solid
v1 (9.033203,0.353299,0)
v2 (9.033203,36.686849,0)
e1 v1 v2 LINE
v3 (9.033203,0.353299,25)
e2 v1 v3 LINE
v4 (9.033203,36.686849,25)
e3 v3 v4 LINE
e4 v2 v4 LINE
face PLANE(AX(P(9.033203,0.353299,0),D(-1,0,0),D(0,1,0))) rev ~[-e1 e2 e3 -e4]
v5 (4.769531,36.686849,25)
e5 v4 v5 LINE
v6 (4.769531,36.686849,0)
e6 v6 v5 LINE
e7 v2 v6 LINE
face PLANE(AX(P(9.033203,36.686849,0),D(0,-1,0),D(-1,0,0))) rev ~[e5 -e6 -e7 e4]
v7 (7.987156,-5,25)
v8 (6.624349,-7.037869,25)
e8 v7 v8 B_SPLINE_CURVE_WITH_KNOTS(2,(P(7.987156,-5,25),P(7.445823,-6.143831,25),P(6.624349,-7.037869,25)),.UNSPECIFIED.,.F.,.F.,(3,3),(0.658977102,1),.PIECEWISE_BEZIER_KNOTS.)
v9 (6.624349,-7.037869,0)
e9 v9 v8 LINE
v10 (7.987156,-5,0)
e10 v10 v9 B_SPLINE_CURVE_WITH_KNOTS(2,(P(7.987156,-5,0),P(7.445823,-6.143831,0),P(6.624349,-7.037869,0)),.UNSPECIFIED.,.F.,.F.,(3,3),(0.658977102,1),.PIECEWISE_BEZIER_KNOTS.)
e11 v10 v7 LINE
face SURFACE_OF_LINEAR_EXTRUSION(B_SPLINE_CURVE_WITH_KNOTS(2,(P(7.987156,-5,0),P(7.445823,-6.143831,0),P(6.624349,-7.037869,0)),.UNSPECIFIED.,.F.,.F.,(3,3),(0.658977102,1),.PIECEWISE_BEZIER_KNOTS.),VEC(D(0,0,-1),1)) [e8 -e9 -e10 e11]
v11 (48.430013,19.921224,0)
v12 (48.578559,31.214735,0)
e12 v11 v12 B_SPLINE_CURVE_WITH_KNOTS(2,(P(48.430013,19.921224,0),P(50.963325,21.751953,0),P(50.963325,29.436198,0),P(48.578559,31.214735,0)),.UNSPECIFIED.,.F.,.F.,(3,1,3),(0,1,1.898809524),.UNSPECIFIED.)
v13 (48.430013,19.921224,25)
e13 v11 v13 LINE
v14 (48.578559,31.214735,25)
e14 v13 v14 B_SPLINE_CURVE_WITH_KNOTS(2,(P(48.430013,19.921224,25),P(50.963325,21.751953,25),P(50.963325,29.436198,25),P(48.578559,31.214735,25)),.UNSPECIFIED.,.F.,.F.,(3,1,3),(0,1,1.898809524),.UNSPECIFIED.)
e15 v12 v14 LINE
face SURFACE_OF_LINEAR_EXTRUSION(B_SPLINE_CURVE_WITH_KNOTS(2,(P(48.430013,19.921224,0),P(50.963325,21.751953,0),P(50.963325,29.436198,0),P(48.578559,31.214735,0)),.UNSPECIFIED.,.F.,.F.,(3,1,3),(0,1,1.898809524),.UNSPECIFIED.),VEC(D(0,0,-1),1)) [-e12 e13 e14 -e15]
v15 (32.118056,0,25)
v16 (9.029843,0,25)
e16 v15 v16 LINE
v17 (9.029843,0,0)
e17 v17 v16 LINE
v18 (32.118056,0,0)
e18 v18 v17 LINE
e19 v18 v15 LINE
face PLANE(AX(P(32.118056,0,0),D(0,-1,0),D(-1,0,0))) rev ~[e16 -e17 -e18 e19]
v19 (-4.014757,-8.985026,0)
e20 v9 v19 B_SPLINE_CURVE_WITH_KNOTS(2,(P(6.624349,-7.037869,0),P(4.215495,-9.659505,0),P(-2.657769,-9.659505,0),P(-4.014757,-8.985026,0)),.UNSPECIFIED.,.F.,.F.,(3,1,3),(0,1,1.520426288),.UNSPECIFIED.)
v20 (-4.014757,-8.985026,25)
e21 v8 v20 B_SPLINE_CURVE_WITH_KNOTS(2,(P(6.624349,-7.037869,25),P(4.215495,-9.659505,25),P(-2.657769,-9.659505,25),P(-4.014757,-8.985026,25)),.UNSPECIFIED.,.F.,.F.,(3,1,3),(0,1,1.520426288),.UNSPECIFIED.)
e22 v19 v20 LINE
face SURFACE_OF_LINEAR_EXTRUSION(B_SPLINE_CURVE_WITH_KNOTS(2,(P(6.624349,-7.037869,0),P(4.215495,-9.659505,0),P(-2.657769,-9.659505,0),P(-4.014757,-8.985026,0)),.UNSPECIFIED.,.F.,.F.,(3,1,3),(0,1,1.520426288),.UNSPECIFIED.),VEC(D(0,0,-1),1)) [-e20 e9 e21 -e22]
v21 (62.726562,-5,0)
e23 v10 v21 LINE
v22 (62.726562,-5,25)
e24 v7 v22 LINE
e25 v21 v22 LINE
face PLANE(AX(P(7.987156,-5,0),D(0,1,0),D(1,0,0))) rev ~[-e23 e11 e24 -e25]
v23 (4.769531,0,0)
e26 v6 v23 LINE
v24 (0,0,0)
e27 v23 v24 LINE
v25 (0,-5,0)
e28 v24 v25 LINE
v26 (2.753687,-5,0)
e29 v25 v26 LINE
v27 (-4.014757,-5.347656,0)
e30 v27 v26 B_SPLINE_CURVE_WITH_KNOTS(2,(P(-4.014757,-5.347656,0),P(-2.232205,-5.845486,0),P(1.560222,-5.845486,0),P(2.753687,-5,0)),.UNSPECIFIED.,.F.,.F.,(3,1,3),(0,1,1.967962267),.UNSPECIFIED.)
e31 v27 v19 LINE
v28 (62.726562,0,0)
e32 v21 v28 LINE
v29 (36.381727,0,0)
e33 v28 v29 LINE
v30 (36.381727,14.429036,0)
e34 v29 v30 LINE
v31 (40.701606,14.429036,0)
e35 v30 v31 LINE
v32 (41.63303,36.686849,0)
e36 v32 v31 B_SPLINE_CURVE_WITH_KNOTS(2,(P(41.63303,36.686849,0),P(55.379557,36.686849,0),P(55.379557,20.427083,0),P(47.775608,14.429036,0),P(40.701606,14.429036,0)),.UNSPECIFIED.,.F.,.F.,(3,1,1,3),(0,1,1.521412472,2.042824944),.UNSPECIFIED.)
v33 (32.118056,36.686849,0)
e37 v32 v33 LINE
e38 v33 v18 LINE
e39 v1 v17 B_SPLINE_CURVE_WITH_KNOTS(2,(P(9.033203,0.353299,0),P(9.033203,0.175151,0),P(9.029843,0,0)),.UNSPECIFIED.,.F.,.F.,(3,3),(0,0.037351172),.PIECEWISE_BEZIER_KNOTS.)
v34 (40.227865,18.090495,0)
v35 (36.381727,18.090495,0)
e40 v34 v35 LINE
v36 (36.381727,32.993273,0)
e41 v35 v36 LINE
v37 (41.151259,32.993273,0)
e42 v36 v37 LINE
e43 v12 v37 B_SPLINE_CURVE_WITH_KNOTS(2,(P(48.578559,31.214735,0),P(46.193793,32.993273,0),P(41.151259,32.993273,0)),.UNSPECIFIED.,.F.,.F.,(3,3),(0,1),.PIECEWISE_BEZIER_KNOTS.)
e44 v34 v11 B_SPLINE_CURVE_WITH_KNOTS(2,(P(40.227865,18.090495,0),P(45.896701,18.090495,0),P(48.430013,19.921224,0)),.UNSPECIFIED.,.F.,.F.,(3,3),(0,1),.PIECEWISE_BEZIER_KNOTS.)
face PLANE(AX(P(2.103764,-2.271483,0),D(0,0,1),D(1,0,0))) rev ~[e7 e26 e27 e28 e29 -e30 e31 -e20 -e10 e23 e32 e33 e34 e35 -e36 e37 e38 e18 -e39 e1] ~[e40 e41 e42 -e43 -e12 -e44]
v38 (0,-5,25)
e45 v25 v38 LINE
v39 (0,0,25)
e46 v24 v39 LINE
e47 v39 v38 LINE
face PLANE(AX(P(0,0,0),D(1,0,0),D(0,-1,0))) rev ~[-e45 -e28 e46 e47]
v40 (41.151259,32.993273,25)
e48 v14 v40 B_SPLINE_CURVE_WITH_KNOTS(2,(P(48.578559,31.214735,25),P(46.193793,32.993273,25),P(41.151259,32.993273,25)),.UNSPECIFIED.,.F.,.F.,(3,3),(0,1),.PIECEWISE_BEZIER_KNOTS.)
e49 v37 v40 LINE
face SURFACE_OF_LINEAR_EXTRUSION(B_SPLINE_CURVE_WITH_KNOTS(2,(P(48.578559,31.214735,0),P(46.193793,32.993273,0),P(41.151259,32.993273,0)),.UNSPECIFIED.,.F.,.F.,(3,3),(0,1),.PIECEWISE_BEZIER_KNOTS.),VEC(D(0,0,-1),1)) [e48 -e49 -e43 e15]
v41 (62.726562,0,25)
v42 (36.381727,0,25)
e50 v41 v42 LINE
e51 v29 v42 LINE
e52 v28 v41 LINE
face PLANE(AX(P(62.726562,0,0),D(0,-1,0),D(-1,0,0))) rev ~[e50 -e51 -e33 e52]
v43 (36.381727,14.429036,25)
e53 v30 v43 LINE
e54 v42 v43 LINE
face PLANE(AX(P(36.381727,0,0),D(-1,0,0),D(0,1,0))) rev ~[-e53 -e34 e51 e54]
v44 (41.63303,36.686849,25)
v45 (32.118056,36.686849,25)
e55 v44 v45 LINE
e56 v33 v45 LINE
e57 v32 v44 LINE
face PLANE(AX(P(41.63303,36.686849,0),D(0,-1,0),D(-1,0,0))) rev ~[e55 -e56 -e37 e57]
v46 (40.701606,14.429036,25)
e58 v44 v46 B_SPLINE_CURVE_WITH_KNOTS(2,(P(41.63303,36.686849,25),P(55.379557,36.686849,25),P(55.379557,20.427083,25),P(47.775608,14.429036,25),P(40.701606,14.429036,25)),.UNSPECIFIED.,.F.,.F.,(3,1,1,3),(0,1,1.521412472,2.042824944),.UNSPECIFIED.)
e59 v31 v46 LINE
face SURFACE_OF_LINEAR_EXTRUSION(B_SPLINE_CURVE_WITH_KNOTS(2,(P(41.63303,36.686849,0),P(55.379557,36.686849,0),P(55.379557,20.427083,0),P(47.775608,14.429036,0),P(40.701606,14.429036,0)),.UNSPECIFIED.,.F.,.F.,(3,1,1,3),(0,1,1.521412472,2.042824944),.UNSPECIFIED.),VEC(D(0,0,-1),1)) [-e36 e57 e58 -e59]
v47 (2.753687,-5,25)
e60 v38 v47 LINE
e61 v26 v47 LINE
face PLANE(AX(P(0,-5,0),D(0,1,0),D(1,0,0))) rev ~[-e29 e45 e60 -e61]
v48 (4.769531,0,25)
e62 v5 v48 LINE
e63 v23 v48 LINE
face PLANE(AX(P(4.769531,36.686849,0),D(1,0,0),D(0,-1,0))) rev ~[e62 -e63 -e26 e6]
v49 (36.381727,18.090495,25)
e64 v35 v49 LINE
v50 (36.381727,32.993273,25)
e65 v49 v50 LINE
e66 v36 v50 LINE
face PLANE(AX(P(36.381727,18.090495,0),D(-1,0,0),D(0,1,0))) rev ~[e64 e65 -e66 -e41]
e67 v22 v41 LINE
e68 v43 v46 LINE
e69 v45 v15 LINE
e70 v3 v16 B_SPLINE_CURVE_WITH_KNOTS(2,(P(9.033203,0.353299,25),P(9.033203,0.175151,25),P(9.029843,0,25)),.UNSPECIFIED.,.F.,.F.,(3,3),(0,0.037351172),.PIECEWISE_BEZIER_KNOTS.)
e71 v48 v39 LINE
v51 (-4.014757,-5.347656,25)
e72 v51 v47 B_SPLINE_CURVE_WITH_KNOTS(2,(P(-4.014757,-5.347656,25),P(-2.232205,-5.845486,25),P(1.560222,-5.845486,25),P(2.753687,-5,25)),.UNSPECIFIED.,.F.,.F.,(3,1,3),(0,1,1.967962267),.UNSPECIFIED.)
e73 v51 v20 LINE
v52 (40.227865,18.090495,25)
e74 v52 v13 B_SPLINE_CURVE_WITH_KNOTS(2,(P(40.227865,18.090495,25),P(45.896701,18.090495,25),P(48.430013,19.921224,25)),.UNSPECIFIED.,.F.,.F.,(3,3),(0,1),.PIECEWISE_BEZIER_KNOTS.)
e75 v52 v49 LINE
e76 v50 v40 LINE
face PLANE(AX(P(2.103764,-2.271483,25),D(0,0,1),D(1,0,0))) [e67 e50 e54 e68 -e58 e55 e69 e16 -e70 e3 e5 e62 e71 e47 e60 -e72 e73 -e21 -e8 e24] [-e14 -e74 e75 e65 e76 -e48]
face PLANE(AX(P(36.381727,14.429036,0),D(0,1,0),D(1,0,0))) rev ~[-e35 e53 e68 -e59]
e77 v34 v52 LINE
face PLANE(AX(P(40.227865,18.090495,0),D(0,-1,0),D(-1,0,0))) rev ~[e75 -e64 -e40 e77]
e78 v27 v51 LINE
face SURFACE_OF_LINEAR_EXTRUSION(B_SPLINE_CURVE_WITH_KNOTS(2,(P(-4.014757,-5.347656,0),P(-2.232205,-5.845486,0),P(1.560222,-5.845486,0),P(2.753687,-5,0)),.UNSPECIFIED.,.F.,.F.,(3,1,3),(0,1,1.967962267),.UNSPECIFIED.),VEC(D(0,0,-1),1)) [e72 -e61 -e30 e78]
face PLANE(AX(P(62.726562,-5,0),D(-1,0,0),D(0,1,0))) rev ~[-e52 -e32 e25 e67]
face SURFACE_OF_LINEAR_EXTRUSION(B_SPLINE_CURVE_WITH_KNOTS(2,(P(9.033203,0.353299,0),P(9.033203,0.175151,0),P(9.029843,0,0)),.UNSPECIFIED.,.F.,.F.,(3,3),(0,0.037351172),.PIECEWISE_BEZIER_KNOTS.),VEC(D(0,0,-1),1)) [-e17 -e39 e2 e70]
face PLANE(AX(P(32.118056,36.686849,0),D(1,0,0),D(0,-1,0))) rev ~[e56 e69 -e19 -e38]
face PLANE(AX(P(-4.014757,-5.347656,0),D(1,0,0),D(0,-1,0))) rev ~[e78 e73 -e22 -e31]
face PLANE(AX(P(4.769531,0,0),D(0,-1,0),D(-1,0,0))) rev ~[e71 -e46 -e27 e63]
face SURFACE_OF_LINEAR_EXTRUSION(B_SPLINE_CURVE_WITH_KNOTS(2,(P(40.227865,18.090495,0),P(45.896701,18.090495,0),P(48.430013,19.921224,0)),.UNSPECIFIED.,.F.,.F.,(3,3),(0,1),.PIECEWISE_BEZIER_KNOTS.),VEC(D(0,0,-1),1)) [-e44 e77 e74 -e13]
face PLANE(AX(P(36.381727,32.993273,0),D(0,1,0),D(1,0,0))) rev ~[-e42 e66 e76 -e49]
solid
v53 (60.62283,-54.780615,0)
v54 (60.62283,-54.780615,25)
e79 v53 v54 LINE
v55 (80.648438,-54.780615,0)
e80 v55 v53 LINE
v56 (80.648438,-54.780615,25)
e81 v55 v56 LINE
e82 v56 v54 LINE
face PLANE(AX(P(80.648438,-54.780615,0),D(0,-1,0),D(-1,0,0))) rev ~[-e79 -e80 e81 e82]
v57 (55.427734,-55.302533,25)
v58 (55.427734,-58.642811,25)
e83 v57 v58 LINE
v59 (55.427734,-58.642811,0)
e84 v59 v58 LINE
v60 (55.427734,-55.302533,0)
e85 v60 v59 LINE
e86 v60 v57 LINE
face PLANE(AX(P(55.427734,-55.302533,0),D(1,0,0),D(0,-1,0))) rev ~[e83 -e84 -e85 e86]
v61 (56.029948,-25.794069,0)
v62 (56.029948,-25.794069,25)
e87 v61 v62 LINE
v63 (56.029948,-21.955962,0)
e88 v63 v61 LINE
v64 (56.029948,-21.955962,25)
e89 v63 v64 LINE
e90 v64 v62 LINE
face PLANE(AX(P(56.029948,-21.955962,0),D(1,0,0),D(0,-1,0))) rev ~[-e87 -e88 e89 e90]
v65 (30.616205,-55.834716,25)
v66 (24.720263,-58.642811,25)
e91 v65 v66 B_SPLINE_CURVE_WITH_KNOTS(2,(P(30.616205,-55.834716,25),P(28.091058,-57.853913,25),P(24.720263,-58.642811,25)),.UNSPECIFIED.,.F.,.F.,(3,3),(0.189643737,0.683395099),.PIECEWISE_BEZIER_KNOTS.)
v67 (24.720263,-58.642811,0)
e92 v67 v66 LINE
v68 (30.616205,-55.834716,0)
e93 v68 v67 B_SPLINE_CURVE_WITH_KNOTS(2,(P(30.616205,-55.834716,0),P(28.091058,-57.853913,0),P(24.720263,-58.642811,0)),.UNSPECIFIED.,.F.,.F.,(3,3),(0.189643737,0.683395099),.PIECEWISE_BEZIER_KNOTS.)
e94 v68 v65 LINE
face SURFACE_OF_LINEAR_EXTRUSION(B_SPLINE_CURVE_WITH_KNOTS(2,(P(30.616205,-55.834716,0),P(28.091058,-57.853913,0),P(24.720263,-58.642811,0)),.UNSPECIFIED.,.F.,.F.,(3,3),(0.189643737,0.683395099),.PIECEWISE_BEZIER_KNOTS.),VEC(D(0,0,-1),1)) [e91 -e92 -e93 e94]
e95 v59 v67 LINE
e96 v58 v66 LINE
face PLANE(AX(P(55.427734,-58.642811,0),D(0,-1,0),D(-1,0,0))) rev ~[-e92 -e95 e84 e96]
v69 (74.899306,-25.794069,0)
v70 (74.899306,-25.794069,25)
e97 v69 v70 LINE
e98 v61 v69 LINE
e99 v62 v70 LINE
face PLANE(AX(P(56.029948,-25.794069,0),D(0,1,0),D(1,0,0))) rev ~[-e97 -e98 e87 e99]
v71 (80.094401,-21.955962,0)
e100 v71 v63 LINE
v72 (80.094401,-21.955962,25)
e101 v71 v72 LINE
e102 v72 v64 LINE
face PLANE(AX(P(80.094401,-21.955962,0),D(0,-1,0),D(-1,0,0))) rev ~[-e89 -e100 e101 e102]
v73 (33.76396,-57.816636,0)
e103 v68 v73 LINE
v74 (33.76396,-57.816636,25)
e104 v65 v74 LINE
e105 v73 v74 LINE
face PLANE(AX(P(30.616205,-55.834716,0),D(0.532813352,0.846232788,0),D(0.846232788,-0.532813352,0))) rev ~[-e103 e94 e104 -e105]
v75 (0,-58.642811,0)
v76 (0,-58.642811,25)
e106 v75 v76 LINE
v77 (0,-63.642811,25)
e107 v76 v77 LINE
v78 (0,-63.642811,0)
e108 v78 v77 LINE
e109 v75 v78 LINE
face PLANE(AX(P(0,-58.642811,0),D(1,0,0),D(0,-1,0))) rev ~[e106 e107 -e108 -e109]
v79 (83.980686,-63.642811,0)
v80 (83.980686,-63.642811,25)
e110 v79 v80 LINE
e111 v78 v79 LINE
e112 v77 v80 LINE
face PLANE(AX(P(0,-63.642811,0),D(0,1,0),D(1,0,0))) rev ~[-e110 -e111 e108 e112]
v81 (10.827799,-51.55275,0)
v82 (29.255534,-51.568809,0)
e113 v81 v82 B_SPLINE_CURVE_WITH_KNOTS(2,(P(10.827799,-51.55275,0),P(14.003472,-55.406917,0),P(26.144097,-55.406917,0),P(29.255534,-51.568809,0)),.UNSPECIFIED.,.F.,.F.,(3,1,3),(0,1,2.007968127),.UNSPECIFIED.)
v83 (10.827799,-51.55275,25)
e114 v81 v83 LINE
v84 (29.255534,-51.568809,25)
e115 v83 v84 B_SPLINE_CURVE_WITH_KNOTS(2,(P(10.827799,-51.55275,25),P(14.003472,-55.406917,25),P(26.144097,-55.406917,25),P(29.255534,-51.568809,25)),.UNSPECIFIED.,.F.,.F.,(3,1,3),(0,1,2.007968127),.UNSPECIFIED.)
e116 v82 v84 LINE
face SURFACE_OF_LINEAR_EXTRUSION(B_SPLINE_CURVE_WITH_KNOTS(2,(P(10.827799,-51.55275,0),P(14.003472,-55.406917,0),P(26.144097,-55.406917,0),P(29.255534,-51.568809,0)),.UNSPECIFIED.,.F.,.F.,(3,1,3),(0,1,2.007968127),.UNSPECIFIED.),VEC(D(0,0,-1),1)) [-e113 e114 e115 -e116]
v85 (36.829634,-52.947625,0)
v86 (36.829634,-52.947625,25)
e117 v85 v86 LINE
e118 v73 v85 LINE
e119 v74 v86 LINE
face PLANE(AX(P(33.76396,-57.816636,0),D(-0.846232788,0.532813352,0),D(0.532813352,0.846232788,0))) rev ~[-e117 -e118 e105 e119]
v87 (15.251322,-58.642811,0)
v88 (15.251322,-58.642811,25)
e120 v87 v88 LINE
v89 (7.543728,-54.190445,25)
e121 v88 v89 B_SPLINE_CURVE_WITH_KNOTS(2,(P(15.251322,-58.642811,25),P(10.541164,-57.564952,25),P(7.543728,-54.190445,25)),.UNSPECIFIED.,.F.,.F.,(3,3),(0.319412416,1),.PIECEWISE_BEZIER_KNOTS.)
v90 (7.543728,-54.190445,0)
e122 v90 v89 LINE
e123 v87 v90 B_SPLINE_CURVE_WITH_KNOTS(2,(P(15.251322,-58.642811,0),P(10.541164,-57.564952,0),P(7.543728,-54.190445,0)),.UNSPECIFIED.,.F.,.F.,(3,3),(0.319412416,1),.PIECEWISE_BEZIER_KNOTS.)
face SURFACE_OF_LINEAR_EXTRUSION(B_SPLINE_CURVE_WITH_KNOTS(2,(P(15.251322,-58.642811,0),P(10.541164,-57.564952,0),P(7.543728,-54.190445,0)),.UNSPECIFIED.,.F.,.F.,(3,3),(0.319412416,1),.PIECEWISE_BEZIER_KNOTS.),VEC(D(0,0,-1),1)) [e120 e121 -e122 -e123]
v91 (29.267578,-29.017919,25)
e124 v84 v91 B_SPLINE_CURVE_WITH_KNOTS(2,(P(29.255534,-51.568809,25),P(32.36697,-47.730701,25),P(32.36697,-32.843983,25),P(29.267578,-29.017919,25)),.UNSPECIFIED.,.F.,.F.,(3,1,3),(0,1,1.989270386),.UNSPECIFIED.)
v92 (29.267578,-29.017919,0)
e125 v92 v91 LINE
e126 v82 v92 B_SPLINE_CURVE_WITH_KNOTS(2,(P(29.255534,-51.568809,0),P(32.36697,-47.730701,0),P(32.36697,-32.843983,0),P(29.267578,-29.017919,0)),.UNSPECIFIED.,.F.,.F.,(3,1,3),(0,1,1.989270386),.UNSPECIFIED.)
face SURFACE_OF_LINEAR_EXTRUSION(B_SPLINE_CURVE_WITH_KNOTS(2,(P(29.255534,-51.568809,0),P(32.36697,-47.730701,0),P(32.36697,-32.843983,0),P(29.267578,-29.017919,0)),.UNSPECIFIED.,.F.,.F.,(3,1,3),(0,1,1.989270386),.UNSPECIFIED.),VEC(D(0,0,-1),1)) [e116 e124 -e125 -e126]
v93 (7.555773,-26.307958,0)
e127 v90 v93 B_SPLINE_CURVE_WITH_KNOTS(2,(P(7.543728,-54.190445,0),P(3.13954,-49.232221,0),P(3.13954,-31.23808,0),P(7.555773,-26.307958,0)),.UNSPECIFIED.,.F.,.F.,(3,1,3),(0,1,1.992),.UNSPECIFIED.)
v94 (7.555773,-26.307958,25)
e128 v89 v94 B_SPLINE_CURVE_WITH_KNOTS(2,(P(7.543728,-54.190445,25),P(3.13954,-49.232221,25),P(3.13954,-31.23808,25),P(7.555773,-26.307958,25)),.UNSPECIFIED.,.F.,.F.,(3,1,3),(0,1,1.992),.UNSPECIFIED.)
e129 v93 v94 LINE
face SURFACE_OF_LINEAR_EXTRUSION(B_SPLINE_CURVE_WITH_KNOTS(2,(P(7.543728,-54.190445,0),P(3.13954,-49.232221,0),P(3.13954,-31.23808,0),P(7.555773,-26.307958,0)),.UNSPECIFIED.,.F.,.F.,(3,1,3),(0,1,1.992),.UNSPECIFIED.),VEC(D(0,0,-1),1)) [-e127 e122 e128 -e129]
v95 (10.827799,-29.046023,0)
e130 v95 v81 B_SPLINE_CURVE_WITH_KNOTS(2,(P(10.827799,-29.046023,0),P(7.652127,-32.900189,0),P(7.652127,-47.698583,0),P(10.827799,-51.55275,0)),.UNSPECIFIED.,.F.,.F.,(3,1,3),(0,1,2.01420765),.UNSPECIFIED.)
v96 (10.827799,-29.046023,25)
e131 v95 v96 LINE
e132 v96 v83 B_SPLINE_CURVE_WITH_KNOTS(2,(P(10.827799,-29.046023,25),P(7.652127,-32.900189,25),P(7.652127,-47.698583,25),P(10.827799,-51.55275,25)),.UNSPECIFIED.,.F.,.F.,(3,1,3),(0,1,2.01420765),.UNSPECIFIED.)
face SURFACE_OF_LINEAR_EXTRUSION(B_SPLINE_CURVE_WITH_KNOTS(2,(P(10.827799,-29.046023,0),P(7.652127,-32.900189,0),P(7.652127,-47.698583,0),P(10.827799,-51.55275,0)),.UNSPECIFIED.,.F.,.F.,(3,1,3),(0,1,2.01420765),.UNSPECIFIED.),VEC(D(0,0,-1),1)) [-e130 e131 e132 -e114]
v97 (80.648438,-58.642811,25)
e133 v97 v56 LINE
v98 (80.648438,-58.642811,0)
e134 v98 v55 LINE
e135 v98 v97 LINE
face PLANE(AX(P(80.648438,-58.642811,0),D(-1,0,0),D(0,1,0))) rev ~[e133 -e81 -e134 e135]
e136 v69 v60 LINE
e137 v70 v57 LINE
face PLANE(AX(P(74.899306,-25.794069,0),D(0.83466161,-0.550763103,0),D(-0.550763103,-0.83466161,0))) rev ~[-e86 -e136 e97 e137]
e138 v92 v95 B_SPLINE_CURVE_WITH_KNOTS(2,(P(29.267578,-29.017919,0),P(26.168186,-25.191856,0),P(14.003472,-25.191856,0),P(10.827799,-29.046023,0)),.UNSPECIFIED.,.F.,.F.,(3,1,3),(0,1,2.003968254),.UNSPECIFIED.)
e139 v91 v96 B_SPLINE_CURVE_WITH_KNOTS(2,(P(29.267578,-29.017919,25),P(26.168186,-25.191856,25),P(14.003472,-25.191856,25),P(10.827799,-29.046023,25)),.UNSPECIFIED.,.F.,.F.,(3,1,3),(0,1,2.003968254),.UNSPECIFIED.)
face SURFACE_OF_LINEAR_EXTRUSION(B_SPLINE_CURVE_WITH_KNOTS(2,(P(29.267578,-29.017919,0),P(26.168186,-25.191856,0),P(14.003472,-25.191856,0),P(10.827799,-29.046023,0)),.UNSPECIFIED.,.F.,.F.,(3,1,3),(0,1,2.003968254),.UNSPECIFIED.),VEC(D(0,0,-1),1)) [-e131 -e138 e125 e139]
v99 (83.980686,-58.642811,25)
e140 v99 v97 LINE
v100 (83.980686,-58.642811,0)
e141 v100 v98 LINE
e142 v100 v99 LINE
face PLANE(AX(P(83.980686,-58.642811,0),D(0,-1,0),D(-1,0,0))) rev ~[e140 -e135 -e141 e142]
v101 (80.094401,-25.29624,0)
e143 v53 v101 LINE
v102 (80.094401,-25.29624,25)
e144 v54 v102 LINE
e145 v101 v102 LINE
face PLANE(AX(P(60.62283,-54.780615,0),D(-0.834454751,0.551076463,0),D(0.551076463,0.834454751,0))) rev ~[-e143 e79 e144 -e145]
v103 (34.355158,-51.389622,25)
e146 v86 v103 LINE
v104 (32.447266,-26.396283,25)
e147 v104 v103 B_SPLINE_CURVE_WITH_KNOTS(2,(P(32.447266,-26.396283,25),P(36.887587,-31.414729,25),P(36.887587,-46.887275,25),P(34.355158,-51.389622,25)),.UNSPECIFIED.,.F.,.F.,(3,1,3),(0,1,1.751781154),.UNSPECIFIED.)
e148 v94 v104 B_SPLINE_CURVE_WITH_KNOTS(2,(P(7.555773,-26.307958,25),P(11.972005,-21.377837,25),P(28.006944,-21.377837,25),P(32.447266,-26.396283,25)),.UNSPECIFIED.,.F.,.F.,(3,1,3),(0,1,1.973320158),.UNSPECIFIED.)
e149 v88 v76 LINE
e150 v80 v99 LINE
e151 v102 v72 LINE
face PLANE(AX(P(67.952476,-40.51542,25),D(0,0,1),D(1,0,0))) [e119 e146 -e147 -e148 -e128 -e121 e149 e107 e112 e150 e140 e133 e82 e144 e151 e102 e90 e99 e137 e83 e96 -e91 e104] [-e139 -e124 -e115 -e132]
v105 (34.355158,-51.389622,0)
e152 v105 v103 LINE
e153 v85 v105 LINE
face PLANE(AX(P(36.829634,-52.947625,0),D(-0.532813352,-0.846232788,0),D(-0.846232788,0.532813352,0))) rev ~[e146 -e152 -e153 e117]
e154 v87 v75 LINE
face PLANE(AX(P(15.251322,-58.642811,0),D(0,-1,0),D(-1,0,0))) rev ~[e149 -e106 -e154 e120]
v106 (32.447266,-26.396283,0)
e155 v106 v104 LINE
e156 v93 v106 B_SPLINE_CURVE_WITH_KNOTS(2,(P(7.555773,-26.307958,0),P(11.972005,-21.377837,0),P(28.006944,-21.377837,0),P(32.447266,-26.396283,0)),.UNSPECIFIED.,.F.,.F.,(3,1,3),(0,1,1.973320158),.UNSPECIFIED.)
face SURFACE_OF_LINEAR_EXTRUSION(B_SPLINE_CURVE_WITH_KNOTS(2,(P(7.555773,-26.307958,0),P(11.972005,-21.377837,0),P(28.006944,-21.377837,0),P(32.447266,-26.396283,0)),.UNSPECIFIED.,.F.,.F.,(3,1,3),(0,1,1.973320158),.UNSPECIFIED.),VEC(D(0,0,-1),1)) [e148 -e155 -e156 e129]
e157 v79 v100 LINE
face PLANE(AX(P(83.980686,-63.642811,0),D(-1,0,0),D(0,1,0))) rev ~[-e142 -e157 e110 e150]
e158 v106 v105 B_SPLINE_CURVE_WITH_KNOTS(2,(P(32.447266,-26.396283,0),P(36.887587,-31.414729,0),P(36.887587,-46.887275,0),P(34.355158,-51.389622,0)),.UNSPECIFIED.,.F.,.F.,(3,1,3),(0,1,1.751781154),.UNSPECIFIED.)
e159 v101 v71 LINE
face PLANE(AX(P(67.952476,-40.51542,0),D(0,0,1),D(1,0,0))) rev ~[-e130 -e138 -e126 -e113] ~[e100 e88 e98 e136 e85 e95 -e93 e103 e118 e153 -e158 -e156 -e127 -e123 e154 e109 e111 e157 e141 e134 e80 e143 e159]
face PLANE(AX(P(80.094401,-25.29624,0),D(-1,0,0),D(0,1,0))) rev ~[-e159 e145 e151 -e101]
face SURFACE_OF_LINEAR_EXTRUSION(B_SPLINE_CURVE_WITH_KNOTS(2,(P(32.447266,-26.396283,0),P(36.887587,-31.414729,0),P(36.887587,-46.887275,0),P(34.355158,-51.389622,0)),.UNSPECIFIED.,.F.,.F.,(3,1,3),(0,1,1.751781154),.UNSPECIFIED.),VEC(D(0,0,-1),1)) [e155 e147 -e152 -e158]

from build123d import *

# Parameters (mm, degrees)
F1_DEPTH = 25


with BuildPart() as f1:
    # F0 (on Top) → F1 (new body)
    with BuildSketch(Plane.XY):
        with BuildLine():
            Line((4.76953125, 0), (0, 0))
            Line((0, 0), (0, -5))
            Line((0, -5), (2.7536867479, -5))
            add(Edge.make_bspline(
                [(2.7536867479, -5), (3.1528031854, -4.7172538817), (3.4767795139, -4.3399522569)],
                knots=[0.7493901424, 0.7493901424, 0.7493901424, 1, 1, 1], degree=2))
            add(Edge.make_bspline(
                [(3.4767795139, -4.3399522569), (4.76953125, -2.8344184028), (4.76953125, 0)],
                knots=[0, 0, 0, 1, 1, 1], degree=2))
        make_face()
        with BuildLine():
            Line((4.76953125, 36.6868489583), (4.76953125, 0))
            Line((4.76953125, 0), (9.0298425084, 0))
            add(Edge.make_bspline(
                [(9.033203125, 0.3532986111), (9.033203125, 0.1751510307), (9.0298425084, 0)],
                knots=[0, 0, 0, 0.0373511717, 0.0373511717, 0.0373511717], degree=2))
            Line((9.033203125, 0.3532986111), (9.033203125, 36.6868489583))
            Line((9.033203125, 36.6868489583), (4.76953125, 36.6868489583))
        make_face()
        with BuildLine():
            Line((9.0298425084, 0), (4.76953125, 0))
            add(Edge.make_bspline(
                [(3.4767795139, -4.3399522569), (4.76953125, -2.8344184028), (4.76953125, 0)],
                knots=[0, 0, 0, 1, 1, 1], degree=2))
            add(Edge.make_bspline(
                [(2.7536867479, -5), (3.1528031854, -4.7172538817), (3.4767795139, -4.3399522569)],
                knots=[0.7493901424, 0.7493901424, 0.7493901424, 1, 1, 1], degree=2))
            Line((2.7536867479, -5), (7.987156225, -5))
            add(Edge.make_bspline(
                [(9.0298425084, 0), (8.9739126319, -2.9149934948), (7.987156225, -5)],
                knots=[0.0373511717, 0.0373511717, 0.0373511717, 0.6589771022, 0.6589771022, 0.6589771022], degree=2))
        make_face()
        with BuildLine():
            Line((32.1180555556, 0), (9.0298425084, 0))
            add(Edge.make_bspline(
                [(9.0298425084, 0), (8.9739126319, -2.9149934948), (7.987156225, -5)],
                knots=[0.0373511717, 0.0373511717, 0.0373511717, 0.6589771022, 0.6589771022, 0.6589771022], degree=2))
            Line((7.987156225, -5), (62.7265625, -5))
            Line((62.7265625, -5), (62.7265625, 0))
            Line((62.7265625, 0), (36.3817274306, 0))
            Line((36.3817274306, 0), (32.1180555556, 0))
        make_face()
        with BuildLine():
            Line((7.987156225, -5), (2.7536867479, -5))
            add(Edge.make_bspline(
                [(-0.3051215278, -5.8454861111), (1.5602224249, -5.8454861111), (2.7536867479, -5)],
                knots=[0, 0, 0, 0.7493901424, 0.7493901424, 0.7493901424], degree=2))
            add(Edge.make_bspline(
                [(-4.0147569444, -5.34765625), (-2.2322048611, -5.8454861111), (-0.3051215278, -5.8454861111)],
                knots=[0, 0, 0, 1, 1, 1], degree=2))
            Line((-4.0147569444, -5.34765625), (-4.0147569444, -8.9850260417))
            add(Edge.make_bspline(
                [(-0.3051215278, -9.6595052083), (-2.6577690972, -9.6595052083), (-4.0147569444, -8.9850260417)],
                knots=[0, 0, 0, 1, 1, 1], degree=2))
            add(Edge.make_bspline(
                [(6.6243489583, -7.0378689236), (4.2154947917, -9.6595052083), (-0.3051215278, -9.6595052083)],
                knots=[0, 0, 0, 1, 1, 1], degree=2))
            add(Edge.make_bspline(
                [(7.987156225, -5), (7.4458233867, -6.1438309207), (6.6243489583, -7.0378689236)],
                knots=[0.6589771022, 0.6589771022, 0.6589771022, 1, 1, 1], degree=2))
        make_face()
        with BuildLine():
            Line((32.1180555556, 36.6868489583), (32.1180555556, 0))
            Line((32.1180555556, 0), (36.3817274306, 0))
            Line((36.3817274306, 0), (36.3817274306, 14.4290364583))
            Line((36.3817274306, 14.4290364583), (40.7016059028, 14.4290364583))
            add(Edge.make_bspline(
                [(51.5775824653, 17.4280598958), (47.7756076389, 14.4290364583), (40.7016059028, 14.4290364583)],
                knots=[0, 0, 0, 1, 1, 1], degree=2))
            add(Edge.make_bspline(
                [(55.3795572917, 25.9995659722), (55.3795572917, 20.4270833333), (51.5775824653, 17.4280598958)],
                knots=[0, 0, 0, 1, 1, 1], degree=2))
            add(Edge.make_bspline(
                [(41.6330295139, 36.6868489583), (55.3795572917, 36.6868489583), (55.3795572917, 25.9995659722)],
                knots=[0, 0, 0, 1, 1, 1], degree=2))
            Line((41.6330295139, 36.6868489583), (32.1180555556, 36.6868489583))
        make_face()
        with BuildLine():
            Line((40.2278645833, 18.0904947917), (36.3817274306, 18.0904947917))
            Line((36.3817274306, 18.0904947917), (36.3817274306, 32.9932725694))
            Line((36.3817274306, 32.9932725694), (41.1512586806, 32.9932725694))
            add(Edge.make_bspline(
                [(48.5785590278, 31.2147352431), (46.1937934028, 32.9932725694), (41.1512586806, 32.9932725694)],
                knots=[0, 0, 0, 1, 1, 1], degree=2))
            add(Edge.make_bspline(
                [(50.9633246528, 25.798828125), (50.9633246528, 29.4361979167), (48.5785590278, 31.2147352431)],
                knots=[0, 0, 0, 1, 1, 1], degree=2))
            add(Edge.make_bspline(
                [(48.4300130208, 19.9212239583), (50.9633246528, 21.751953125), (50.9633246528, 25.798828125)],
                knots=[0, 0, 0, 1, 1, 1], degree=2))
            add(Edge.make_bspline(
                [(40.2278645833, 18.0904947917), (45.8967013889, 18.0904947917), (48.4300130208, 19.9212239583)],
                knots=[0, 0, 0, 1, 1, 1], degree=2))
        make_face(mode=Mode.SUBTRACT)
        Polygon((55.427734375, -55.3025330059), (55.427734375, -58.6428107837), (80.6484375, -58.6428107837), (80.6484375, -54.7806146031), (60.6228298611, -54.7806146031), (80.0944010417, -25.2962396031), (80.0944010417, -21.9559618254), (56.0299479167, -21.9559618254), (56.0299479167, -25.7940694642), (74.8993055556, -25.7940694642), align=None)
        with BuildLine():
            Line((80.6484375, -58.6428107837), (55.427734375, -58.6428107837))
            Line((55.427734375, -58.6428107837), (24.7202634503, -58.6428107837))
            add(Edge.make_bspline(
                [(24.7202634503, -58.6428107837), (22.5588312474, -59.1486701587), (20.0496961806, -59.1486701587)],
                knots=[0.6833950988, 0.6833950988, 0.6833950988, 1, 1, 1], degree=2))
            add(Edge.make_bspline(
                [(20.0496961806, -59.1486701587), (17.4618872121, -59.1486701587), (15.2513223605, -58.6428107837)],
                knots=[0, 0, 0, 0.319412416, 0.319412416, 0.319412416], degree=2))
            Line((15.2513223605, -58.6428107837), (0, -58.6428107837))
            Line((0, -58.6428107837), (0, -63.6428107837))
            Line((0, -63.6428107837), (83.9806857639, -63.6428107837))
            Line((83.9806857639, -63.6428107837), (83.9806857639, -58.6428107837))
            Line((83.9806857639, -58.6428107837), (80.6484375, -58.6428107837))
        make_face()
        with BuildLine():
            add(Edge.make_bspline(
                [(24.7202634503, -58.6428107837), (22.5588312474, -59.1486701587), (20.0496961806, -59.1486701587)],
                knots=[0.6833950988, 0.6833950988, 0.6833950988, 1, 1, 1], degree=2))
            Line((24.7202634503, -58.6428107837), (15.2513223605, -58.6428107837))
            add(Edge.make_bspline(
                [(20.0496961806, -59.1486701587), (17.4618872121, -59.1486701587), (15.2513223605, -58.6428107837)],
                knots=[0, 0, 0, 0.319412416, 0.319412416, 0.319412416], degree=2))
        make_face()
        with BuildLine():
            Line((15.2513223605, -58.6428107837), (24.7202634503, -58.6428107837))
            add(Edge.make_bspline(
                [(30.616204684, -55.8347158125), (28.0910580539, -57.8539134733), (24.7202634503, -58.6428107837)],
                knots=[0.1896437375, 0.1896437375, 0.1896437375, 0.6833950988, 0.6833950988, 0.6833950988], degree=2))
            Line((30.616204684, -55.8347158125), (30.5317305028, -55.7815283537))
            Line((30.5317305028, -55.7815283537), (33.7639600039, -51.0173855737))
            Line((33.7639600039, -51.0173855737), (34.355158139, -51.3896215167))
            add(Edge.make_bspline(
                [(36.8875868056, -40.2471944642), (36.8875868056, -46.8872754051), (34.355158139, -51.3896215167)],
                knots=[0, 0, 0, 0.7538370735, 0.7538370735, 0.7538370735], degree=2))
            add(Edge.make_bspline(
                [(32.447265625, -26.3962830059), (36.8875868056, -31.4147291865), (36.8875868056, -40.2471944642)],
                knots=[0, 0, 0, 1, 1, 1], degree=2))
            add(Edge.make_bspline(
                [(20.0978732639, -21.3778368254), (28.0069444444, -21.3778368254), (32.447265625, -26.3962830059)],
                knots=[0, 0, 0, 1, 1, 1], degree=2))
            add(Edge.make_bspline(
                [(7.5557725694, -26.3079583531), (11.9720052083, -21.3778368254), (20.0978732639, -21.3778368254)],
                knots=[0, 0, 0, 1, 1, 1], degree=2))
            add(Edge.make_bspline(
                [(3.1395399306, -40.1990173809), (3.1395399306, -31.2380798809), (7.5557725694, -26.3079583531)],
                knots=[0, 0, 0, 1, 1, 1], degree=2))
            add(Edge.make_bspline(
                [(7.5437282986, -54.1904453323), (3.1395399306, -49.2322205059), (3.1395399306, -40.1990173809)],
                knots=[0, 0, 0, 1, 1, 1], degree=2))
            add(Edge.make_bspline(
                [(15.2513223605, -58.6428107837), (10.5411642195, -57.5649515878), (7.5437282986, -54.1904453323)],
                knots=[0.319412416, 0.319412416, 0.319412416, 1, 1, 1], degree=2))
        make_face()
        with BuildLine():
            add(Edge.make_bspline(
                [(7.6521267361, -40.2471944642), (7.6521267361, -47.6985833531), (10.8277994792, -51.5527500198)],
                knots=[0, 0, 0, 1, 1, 1], degree=2))
            add(Edge.make_bspline(
                [(10.8277994792, -29.0460225892), (7.6521267361, -32.9001892559), (7.6521267361, -40.2471944642)],
                knots=[0, 0, 0, 1, 1, 1], degree=2))
            add(Edge.make_bspline(
                [(20.0978732639, -25.1918559226), (14.0034722222, -25.1918559226), (10.8277994792, -29.0460225892)],
                knots=[0, 0, 0, 1, 1, 1], degree=2))
            add(Edge.make_bspline(
                [(29.267578125, -29.0179192906), (26.1681857639, -25.1918559226), (20.0978732639, -25.1918559226)],
                knots=[0, 0, 0, 1, 1, 1], degree=2))
            add(Edge.make_bspline(
                [(32.3669704861, -40.2471944642), (32.3669704861, -32.8439826587), (29.267578125, -29.0179192906)],
                knots=[0, 0, 0, 1, 1, 1], degree=2))
            add(Edge.make_bspline(
                [(29.2555338542, -51.5688090476), (32.3669704861, -47.7307014087), (32.3669704861, -40.2471944642)],
                knots=[0, 0, 0, 1, 1, 1], degree=2))
            add(Edge.make_bspline(
                [(20.0496961806, -55.4069166865), (26.1440972222, -55.4069166865), (29.2555338542, -51.5688090476)],
                knots=[0, 0, 0, 1, 1, 1], degree=2))
            add(Edge.make_bspline(
                [(10.8277994792, -51.5527500198), (14.0034722222, -55.4069166865), (20.0496961806, -55.4069166865)],
                knots=[0, 0, 0, 1, 1, 1], degree=2))
        make_face(mode=Mode.SUBTRACT)
        with BuildLine():
            add(Edge.make_bspline(
                [(32.4312065972, -54.1021206795), (31.586081999, -55.059167184), (30.616204684, -55.8347158125)],
                knots=[0, 0, 0, 0.1896437375, 0.1896437375, 0.1896437375], degree=2))
            Line((30.616204684, -55.8347158125), (33.7639600039, -57.8166362555))
            Line((33.7639600039, -57.8166362555), (36.8296342213, -52.9476253114))
            Line((36.8296342213, -52.9476253114), (34.355158139, -51.3896215167))
            add(Edge.make_bspline(
                [(34.355158139, -51.3896215167), (33.528202191, -52.8598472909), (32.4312065972, -54.1021206795)],
                knots=[0.7538370735, 0.7538370735, 0.7538370735, 1, 1, 1], degree=2))
        make_face()
        with BuildLine():
            Line((30.5317305028, -55.7815283537), (30.616204684, -55.8347158125))
            add(Edge.make_bspline(
                [(32.4312065972, -54.1021206795), (31.586081999, -55.059167184), (30.616204684, -55.8347158125)],
                knots=[0, 0, 0, 0.1896437375, 0.1896437375, 0.1896437375], degree=2))
            add(Edge.make_bspline(
                [(34.355158139, -51.3896215167), (33.528202191, -52.8598472909), (32.4312065972, -54.1021206795)],
                knots=[0.7538370735, 0.7538370735, 0.7538370735, 1, 1, 1], degree=2))
            Line((34.355158139, -51.3896215167), (33.7639600039, -51.0173855737))
            Line((33.7639600039, -51.0173855737), (30.5317305028, -55.7815283537))
        make_face()
    extrude(amount=F1_DEPTH)


solid = f1.part
